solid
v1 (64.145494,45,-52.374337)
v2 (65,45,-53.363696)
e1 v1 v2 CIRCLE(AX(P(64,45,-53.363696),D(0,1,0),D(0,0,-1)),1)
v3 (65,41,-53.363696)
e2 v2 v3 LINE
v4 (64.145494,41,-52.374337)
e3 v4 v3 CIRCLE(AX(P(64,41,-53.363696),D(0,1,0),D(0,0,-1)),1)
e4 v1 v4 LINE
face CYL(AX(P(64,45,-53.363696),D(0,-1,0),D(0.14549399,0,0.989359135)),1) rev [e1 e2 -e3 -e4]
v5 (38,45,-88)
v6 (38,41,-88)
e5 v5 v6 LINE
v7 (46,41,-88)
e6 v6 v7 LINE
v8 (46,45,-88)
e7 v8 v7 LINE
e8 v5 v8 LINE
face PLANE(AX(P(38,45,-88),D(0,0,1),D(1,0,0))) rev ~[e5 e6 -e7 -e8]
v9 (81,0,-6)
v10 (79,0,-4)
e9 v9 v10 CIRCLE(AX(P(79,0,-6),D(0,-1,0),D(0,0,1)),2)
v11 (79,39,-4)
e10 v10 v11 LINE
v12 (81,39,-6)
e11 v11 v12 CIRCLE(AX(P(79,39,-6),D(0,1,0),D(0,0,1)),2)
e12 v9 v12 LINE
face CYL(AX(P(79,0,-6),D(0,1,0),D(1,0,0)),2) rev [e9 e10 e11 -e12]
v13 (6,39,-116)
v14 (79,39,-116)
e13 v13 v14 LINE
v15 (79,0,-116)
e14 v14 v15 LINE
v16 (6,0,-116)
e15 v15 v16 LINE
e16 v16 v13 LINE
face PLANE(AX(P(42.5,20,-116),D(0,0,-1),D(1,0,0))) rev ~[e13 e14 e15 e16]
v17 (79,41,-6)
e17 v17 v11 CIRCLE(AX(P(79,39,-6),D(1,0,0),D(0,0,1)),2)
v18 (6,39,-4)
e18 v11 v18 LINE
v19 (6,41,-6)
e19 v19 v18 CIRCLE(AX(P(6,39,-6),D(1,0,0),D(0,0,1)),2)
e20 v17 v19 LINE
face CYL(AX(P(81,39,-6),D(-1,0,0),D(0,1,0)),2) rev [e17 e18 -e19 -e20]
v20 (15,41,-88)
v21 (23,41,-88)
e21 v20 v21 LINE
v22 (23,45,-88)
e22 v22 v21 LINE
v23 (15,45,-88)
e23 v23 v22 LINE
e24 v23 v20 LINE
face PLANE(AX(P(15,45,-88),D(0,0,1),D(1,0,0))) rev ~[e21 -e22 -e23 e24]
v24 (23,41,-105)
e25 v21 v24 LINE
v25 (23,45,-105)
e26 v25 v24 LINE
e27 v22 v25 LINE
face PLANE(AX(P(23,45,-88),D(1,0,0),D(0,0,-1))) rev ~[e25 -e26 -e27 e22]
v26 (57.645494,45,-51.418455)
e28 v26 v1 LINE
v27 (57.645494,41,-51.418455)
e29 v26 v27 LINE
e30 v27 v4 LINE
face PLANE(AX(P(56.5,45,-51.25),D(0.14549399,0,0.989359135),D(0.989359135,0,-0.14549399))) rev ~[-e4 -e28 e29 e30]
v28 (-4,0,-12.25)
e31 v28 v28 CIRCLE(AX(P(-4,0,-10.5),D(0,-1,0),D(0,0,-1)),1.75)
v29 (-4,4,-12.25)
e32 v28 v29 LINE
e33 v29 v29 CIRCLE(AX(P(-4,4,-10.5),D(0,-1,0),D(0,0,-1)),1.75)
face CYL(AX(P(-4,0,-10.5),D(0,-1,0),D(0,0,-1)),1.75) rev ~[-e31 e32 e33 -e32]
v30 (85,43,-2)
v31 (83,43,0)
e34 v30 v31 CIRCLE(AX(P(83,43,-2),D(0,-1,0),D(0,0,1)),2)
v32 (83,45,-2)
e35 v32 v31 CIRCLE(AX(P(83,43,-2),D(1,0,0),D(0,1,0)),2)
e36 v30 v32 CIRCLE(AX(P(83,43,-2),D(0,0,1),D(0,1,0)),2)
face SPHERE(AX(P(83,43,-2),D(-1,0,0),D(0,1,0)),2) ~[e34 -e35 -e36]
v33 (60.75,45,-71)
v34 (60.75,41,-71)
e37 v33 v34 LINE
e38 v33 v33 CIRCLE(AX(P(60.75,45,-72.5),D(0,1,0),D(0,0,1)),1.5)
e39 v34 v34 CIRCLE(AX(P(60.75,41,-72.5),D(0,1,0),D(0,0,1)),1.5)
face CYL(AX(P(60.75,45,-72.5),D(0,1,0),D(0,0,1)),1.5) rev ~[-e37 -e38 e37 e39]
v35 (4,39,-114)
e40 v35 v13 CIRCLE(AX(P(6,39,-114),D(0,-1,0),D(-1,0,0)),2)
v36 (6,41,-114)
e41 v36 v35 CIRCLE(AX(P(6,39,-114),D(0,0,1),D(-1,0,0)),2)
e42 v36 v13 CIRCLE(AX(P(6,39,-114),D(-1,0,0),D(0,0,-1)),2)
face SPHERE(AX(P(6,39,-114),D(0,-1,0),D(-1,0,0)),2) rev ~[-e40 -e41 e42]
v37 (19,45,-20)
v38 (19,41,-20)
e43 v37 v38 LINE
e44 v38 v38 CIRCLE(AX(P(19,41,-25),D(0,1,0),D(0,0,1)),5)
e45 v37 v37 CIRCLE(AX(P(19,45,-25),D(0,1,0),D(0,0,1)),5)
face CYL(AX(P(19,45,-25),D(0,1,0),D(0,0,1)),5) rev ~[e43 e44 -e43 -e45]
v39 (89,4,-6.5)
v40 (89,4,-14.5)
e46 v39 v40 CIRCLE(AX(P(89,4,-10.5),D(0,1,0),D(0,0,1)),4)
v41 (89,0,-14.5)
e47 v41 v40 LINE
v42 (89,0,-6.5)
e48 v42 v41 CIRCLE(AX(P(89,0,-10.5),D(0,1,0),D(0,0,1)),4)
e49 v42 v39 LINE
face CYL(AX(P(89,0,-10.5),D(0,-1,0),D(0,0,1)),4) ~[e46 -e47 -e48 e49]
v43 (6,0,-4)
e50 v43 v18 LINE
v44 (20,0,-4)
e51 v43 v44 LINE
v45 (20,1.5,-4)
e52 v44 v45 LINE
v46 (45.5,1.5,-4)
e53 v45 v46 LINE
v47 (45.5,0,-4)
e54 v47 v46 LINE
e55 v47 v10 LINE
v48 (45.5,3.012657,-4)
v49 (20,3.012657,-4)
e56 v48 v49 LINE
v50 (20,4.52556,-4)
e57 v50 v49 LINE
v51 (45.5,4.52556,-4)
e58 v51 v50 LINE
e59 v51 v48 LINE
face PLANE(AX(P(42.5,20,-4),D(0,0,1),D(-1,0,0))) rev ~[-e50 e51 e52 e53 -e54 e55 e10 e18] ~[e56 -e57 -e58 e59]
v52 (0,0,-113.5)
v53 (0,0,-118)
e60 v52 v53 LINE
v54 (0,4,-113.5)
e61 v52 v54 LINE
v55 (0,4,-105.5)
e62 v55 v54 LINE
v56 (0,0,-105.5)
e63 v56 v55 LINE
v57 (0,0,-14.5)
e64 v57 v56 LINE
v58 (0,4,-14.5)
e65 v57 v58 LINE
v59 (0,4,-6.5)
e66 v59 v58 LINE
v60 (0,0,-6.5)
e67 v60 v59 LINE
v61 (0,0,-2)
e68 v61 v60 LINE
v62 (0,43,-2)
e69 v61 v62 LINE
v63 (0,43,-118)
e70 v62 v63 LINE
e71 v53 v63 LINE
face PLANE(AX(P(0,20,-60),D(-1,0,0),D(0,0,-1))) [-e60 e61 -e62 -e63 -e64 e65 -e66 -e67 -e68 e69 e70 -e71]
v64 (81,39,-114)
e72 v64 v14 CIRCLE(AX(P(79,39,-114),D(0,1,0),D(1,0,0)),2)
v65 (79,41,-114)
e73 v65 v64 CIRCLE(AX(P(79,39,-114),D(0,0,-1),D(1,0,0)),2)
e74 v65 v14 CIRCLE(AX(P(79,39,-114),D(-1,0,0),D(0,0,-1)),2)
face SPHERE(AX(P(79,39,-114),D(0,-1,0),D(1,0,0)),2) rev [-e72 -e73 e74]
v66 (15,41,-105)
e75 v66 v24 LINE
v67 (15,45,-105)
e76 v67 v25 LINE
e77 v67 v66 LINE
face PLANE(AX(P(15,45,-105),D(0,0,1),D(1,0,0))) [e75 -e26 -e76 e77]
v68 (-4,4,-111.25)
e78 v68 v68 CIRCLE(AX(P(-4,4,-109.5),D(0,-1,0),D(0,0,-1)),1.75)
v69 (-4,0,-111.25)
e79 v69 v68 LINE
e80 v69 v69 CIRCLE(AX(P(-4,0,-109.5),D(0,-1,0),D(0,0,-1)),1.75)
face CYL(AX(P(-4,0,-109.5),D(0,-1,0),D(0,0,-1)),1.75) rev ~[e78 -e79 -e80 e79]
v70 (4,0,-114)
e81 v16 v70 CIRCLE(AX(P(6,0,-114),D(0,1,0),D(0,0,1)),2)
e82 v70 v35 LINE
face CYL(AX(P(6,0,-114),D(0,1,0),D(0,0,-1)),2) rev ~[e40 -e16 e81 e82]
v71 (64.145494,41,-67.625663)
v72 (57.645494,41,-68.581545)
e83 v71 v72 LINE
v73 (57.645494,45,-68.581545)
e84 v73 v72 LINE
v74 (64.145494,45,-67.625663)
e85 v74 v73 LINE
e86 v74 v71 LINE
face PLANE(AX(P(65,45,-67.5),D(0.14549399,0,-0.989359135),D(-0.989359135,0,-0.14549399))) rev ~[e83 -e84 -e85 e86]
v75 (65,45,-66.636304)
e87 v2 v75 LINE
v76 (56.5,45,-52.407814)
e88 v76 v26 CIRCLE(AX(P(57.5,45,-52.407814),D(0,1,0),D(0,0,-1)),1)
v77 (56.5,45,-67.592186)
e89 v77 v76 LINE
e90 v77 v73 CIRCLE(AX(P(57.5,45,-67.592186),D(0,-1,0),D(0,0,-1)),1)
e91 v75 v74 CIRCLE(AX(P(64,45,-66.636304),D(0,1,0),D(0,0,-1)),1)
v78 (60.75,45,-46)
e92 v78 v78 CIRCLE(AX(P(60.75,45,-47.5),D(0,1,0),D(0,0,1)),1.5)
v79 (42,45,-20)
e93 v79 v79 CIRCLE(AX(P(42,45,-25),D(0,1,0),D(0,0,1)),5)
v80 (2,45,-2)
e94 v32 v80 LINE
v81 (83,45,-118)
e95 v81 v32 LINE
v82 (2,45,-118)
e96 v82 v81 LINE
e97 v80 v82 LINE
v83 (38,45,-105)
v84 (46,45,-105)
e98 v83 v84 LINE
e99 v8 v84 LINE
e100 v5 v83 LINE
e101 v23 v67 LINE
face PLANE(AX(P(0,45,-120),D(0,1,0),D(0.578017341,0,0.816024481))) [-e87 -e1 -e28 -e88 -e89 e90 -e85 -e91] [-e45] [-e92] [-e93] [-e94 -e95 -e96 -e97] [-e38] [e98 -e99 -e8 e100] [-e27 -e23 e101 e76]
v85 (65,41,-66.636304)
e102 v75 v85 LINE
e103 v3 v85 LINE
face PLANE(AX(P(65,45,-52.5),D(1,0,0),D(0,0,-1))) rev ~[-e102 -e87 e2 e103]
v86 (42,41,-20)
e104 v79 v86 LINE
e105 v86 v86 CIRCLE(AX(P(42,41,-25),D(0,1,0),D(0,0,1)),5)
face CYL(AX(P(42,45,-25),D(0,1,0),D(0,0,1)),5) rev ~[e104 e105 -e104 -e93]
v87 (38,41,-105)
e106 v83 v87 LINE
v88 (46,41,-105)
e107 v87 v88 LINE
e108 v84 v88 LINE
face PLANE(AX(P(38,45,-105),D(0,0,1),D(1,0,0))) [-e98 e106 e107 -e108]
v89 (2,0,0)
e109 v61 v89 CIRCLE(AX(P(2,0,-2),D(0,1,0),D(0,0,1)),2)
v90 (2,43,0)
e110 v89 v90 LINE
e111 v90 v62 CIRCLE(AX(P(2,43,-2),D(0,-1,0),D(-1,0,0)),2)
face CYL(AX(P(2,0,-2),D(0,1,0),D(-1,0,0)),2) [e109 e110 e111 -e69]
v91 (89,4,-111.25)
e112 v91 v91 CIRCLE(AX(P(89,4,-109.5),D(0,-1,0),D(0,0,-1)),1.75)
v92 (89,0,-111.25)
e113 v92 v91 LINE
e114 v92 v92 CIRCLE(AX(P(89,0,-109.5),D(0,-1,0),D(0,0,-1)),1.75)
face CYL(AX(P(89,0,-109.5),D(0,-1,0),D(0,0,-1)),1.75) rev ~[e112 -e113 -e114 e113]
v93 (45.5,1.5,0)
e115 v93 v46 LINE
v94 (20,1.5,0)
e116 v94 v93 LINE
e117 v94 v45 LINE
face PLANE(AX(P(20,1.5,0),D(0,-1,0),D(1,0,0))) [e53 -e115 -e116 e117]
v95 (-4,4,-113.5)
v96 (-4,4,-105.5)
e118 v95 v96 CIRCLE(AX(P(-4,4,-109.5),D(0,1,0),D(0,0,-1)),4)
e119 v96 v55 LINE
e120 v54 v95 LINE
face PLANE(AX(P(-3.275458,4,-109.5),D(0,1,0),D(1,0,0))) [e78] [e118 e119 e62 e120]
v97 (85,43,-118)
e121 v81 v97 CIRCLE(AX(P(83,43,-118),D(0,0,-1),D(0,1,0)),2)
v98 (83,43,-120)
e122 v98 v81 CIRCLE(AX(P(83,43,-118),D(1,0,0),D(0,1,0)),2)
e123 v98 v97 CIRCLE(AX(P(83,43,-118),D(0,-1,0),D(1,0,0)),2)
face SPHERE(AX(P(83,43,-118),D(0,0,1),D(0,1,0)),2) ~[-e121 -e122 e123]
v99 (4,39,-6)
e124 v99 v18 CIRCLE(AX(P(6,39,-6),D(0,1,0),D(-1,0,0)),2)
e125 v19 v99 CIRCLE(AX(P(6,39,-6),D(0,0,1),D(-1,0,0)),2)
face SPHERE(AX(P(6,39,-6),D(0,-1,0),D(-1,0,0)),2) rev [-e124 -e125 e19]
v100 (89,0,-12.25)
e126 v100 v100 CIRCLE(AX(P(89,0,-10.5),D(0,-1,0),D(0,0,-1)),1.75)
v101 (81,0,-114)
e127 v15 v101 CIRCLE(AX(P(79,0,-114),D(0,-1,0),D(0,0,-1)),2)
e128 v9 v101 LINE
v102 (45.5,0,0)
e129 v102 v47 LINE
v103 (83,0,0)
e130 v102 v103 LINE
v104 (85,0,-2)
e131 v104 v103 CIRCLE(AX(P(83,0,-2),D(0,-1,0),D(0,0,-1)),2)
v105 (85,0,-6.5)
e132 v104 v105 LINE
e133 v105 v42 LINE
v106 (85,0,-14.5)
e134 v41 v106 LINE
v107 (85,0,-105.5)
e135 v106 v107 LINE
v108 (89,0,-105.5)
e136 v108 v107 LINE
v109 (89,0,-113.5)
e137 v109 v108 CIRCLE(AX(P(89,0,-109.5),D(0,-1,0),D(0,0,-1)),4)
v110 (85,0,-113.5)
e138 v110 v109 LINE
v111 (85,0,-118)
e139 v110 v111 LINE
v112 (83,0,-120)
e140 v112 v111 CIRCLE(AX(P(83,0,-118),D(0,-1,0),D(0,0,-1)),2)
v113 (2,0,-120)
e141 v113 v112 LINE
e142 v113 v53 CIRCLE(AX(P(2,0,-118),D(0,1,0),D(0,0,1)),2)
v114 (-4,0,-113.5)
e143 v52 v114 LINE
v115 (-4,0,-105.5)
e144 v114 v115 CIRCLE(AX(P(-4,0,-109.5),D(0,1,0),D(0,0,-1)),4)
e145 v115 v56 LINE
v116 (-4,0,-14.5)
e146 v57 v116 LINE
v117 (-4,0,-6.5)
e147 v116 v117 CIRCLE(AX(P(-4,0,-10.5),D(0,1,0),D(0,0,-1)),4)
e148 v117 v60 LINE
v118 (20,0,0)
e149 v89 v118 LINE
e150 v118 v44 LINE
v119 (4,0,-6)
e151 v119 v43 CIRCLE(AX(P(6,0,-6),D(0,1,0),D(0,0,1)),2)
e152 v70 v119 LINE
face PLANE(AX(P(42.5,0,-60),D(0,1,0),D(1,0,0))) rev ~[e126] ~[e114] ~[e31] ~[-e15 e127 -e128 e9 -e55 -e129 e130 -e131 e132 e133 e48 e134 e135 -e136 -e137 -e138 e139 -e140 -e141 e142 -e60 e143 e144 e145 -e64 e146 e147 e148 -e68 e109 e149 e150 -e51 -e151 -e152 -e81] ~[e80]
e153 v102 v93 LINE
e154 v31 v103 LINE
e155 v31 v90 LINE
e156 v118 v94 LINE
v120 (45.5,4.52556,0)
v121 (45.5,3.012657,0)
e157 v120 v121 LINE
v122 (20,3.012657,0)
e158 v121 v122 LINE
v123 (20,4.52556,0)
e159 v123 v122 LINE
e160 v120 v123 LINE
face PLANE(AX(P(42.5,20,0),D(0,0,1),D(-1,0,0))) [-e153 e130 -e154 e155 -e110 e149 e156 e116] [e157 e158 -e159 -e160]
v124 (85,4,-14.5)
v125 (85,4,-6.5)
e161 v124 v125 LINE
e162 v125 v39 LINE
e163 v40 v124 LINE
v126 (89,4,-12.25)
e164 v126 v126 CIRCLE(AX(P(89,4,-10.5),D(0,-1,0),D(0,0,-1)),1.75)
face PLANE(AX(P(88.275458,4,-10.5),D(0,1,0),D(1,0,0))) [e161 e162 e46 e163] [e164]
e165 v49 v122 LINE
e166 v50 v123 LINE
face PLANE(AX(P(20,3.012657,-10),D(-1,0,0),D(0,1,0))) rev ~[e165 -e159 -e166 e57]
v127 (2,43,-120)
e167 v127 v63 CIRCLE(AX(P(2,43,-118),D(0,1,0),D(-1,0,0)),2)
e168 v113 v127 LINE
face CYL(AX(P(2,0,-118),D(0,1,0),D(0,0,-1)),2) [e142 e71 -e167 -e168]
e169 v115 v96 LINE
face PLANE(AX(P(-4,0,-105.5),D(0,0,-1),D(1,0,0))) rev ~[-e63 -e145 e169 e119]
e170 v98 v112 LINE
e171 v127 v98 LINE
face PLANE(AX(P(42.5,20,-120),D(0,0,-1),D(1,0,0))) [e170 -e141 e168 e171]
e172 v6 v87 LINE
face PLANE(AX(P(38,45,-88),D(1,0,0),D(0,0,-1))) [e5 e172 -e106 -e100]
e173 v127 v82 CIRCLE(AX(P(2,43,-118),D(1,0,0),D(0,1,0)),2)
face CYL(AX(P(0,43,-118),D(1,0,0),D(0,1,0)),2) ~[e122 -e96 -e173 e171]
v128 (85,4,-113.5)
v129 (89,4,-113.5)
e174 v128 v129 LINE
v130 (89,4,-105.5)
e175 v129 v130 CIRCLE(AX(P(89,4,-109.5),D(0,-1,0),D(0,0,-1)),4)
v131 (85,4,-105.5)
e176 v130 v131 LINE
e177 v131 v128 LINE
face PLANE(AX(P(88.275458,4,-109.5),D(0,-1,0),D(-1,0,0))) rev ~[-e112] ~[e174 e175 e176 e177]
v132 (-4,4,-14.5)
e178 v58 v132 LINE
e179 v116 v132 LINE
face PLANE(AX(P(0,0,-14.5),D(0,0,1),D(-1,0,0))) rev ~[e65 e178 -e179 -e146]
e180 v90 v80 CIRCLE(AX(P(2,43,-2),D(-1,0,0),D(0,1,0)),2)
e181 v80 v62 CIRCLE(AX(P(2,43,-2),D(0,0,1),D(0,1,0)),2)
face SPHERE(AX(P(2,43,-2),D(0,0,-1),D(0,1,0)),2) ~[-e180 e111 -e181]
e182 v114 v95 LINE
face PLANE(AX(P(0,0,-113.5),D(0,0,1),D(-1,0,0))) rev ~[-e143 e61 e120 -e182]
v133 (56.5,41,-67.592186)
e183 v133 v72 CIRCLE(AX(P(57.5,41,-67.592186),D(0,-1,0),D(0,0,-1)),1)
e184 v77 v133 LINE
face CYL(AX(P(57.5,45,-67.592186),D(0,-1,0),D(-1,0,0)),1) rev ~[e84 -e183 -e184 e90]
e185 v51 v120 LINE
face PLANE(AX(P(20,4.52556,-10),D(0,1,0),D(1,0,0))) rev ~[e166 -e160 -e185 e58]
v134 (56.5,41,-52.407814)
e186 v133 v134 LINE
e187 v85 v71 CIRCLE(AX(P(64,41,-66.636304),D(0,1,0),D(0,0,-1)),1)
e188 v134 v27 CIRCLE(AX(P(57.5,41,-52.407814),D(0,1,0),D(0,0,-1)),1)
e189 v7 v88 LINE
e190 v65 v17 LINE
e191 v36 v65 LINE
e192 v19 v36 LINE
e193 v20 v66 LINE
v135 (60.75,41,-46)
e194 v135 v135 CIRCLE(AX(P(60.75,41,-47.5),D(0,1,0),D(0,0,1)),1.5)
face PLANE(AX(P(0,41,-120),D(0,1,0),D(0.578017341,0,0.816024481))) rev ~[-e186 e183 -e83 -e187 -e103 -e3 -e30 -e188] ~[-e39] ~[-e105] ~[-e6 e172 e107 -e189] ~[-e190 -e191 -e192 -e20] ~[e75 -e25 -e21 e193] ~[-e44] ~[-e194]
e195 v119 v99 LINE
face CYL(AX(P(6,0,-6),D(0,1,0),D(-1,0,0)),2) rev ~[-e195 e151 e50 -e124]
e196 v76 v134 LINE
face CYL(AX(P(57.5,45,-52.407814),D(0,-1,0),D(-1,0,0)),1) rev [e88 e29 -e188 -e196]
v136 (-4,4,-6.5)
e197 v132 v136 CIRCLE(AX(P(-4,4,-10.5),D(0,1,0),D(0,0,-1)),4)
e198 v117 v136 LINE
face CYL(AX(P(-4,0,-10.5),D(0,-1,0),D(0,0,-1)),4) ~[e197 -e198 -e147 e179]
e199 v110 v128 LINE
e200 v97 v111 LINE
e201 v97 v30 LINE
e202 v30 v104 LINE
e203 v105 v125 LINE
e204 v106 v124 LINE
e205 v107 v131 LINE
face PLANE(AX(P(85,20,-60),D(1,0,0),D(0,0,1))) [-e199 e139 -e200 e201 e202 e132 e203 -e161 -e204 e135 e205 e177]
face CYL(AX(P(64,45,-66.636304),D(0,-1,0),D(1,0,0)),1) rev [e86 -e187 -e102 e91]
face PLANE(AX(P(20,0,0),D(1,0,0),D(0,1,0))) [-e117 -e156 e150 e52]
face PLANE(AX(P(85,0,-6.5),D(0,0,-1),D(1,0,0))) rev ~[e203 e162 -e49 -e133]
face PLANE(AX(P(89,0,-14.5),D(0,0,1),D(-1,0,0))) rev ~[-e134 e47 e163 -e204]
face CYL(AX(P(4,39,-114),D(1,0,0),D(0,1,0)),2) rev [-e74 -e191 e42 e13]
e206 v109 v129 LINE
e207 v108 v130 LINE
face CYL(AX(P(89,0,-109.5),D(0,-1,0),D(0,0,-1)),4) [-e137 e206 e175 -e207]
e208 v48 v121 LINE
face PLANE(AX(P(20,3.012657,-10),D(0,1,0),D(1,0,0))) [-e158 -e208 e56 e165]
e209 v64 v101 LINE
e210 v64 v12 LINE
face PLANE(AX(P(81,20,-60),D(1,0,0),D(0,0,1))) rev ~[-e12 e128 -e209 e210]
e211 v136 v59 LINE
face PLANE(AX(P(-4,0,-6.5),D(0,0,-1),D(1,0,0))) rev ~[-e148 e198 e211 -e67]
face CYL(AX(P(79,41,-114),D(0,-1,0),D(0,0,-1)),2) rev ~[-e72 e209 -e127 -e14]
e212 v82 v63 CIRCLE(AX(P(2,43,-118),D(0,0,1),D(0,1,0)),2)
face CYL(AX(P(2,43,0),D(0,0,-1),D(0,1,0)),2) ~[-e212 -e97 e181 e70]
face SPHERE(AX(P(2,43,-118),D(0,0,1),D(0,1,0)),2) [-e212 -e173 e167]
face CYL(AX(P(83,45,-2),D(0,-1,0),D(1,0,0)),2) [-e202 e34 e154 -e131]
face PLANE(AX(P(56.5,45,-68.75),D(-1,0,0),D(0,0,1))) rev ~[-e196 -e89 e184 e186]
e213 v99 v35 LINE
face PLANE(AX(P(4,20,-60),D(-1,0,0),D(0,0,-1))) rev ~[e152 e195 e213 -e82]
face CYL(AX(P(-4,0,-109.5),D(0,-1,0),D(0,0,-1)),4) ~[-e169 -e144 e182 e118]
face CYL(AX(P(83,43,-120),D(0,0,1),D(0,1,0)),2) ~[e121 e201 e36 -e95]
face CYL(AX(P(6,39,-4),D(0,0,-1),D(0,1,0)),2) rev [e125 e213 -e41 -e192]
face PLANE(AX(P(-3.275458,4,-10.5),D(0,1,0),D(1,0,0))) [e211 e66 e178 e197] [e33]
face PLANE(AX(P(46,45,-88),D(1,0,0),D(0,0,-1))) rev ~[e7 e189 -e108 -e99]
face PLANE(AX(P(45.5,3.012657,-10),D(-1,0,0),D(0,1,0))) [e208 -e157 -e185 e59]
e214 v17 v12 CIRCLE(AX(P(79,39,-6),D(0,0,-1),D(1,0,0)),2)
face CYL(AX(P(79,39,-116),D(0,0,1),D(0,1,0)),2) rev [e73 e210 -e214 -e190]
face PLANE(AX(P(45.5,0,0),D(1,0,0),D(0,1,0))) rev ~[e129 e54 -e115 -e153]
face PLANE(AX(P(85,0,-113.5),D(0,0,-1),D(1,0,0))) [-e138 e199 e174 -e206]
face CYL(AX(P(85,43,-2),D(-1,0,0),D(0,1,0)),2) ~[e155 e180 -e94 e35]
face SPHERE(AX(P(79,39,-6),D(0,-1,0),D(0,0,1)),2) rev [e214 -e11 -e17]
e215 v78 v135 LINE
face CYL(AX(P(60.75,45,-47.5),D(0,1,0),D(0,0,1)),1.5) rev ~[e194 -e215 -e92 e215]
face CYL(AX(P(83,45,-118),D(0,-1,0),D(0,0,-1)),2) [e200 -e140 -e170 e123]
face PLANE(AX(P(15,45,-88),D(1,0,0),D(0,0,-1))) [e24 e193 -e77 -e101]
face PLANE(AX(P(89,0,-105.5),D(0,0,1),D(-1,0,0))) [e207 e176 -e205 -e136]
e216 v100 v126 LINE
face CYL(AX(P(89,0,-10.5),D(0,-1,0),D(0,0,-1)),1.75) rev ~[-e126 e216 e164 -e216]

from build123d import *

# Parameters (mm, degrees)
SKETCH1_W               = 85
SKETCH1_H               = 120
BOSS_EXTRUDE1_DEPTH     = 20
SHELL2_T                = -4
SKETCH4_R               = 5
SKETCH4_W               = 8
SKETCH4_H               = 17
CUT_EXTRUDE1_DEPTH      = 20
SKETCH5_W               = 25.5
SKETCH5_H               = 1.5
CUT_EXTRUDE2_DEPTH      = 20
SKETCH6_R               = 1.75
BOSS_EXTRUDE2_DEPTH     = 4
CUT_EXTRUDE3_DEPTH      = 159.347718645
CUT_EXTRUDE3_DEPTH_BACK = 10
SKETCH7_W               = 25.5
SKETCH7_H               = 1.512902769
CUT_EXTRUDE4_START      = 45
SKETCH8_R               = 1.5
CUT_EXTRUDE4_DEPTH      = 10
FILLET1_R               = 1
FILLET2_R               = 2
FILLET3_R               = 2


with BuildPart() as part:
    # Sketch1 → Boss-Extrude1 (new body)
    with BuildSketch(Plane(origin=(0, 0, 0), x_dir=(1, 0, 0), z_dir=(0, 1, 0))):
        with Locations((42.5, 60)):
            Rectangle(SKETCH1_W, SKETCH1_H)
    extrude(amount=BOSS_EXTRUDE1_DEPTH)

    # Sketch2 → section 0 of loft1
    with BuildSketch(Plane(origin=(0, 45, 0), x_dir=(1, 0, 0), z_dir=(0, 1, 0)), mode=Mode.PRIVATE) as loft1_s0:
        with BuildLine():
            Line((0, 120), (85, 120))
            Line((85, 120), (85, 0))
            Line((85, 0), (0, 0))
            Line((0, 0), (0, 120))
        make_face()
    # loft up to a face of the part (loft1)
    loft([loft1_s0.sketch, part.faces().sort_by_distance((42.5, 20, -60))[0]])

    # Shell2
    shell2_openings = [part.faces().sort_by_distance(p)[0] for p in [
        (42.5, 0, -60),
    ]]
    offset(amount=SHELL2_T, openings=shell2_openings, kind=Kind.INTERSECTION)

    # Sketch4 → Cut-Extrude1 (cut)
    with BuildSketch(Plane(origin=(0, 45, 0), x_dir=(1, 0, 0), z_dir=(0, 1, 0))):
        with Locations(Location((19, 25, 0), (0, 0, 270))):
            Circle(SKETCH4_R)
        with Locations(Location((42, 25, 0), (0, 0, 270))):
            Circle(SKETCH4_R)
        with Locations((19, 96.5)):
            Rectangle(SKETCH4_W, SKETCH4_H)
        with Locations((42, 96.5)):
            Rectangle(SKETCH4_W, SKETCH4_H)
    extrude(amount=-CUT_EXTRUDE1_DEPTH, mode=Mode.SUBTRACT)

    # Sketch5 → Cut-Extrude2 (cut)
    with BuildSketch(Plane.XY):
        with Locations((32.75, 0.75)):
            Rectangle(SKETCH5_W, SKETCH5_H)
    extrude(amount=-CUT_EXTRUDE2_DEPTH, mode=Mode.SUBTRACT)

    # Sketch6 → Boss-Extrude2 (add)
    # profile 1 of 4: a face of its own
    with BuildSketch(Plane(origin=(0, 0, 0), x_dir=(-1, 0, 0), z_dir=(0, -1, 0))):
        with BuildLine():
            Line((-85, 6.5), (-89, 6.5))
            ThreePointArc((-89, 6.5), (-93, 10.5), (-89, 14.5))
            Line((-89, 14.5), (-85, 14.5))
            Line((-85, 14.5), (-85, 6.5))
        make_face()
        with Locations(Location((-89, 10.5, 0), (0, 0, 90))):
            Circle(SKETCH6_R, mode=Mode.SUBTRACT)
    # profile 2 of 4: a face of its own
    with BuildSketch(Plane(origin=(0, 0, 0), x_dir=(-1, 0, 0), z_dir=(0, -1, 0))):
        with BuildLine():
            Line((-85, 113.5), (-89, 113.5))
            ThreePointArc((-89, 113.5), (-93, 109.5), (-89, 105.5))
            Line((-89, 105.5), (-85, 105.5))
            Line((-85, 105.5), (-85, 113.5))
        make_face()
        with Locations(Location((-89, 109.5, 0), (0, 0, 90))):
            Circle(SKETCH6_R, mode=Mode.SUBTRACT)
    # profile 3 of 4: a face of its own
    with BuildSketch(Plane(origin=(0, 0, 0), x_dir=(-1, 0, 0), z_dir=(0, -1, 0))):
        with BuildLine():
            Line((0, 113.5), (4, 113.5))
            ThreePointArc((4, 113.5), (8, 109.5), (4, 105.5))
            Line((4, 105.5), (0, 105.5))
            Line((0, 105.5), (0, 113.5))
        make_face()
        with Locations(Location((4, 109.5, 0), (0, 0, 90))):
            Circle(SKETCH6_R, mode=Mode.SUBTRACT)
    # profile 4 of 4: a face of its own
    with BuildSketch(Plane(origin=(0, 0, 0), x_dir=(-1, 0, 0), z_dir=(0, -1, 0))):
        with BuildLine():
            Line((0, 14.5), (4, 14.5))
            ThreePointArc((4, 14.5), (8, 10.5), (4, 6.5))
            Line((4, 6.5), (0, 6.5))
            Line((0, 6.5), (0, 14.5))
        make_face()
        with Locations(Location((4, 10.5, 0), (0, 0, 90))):
            Circle(SKETCH6_R, mode=Mode.SUBTRACT)
    extrude(amount=-BOSS_EXTRUDE2_DEPTH)

    # Sketch7 → Cut-Extrude3 (cut, two sides: drawn at the far end of the back side and taken through both)
    with BuildSketch(Plane.XY.offset(-CUT_EXTRUDE3_DEPTH_BACK)):
        with Locations((32.75, 3.769108467)):
            Rectangle(SKETCH7_W, SKETCH7_H)
    extrude(amount=CUT_EXTRUDE3_DEPTH + CUT_EXTRUDE3_DEPTH_BACK, mode=Mode.SUBTRACT)

    # Sketch8 → Cut-Extrude4 (cut)
    with BuildSketch(Plane(origin=(0, 0, 0), x_dir=(1, 0, 0), z_dir=(0, 1, 0)).offset(CUT_EXTRUDE4_START)):
        with Locations(Location((60.75, 72.5, 0), (0, 0, 270))):
            Circle(SKETCH8_R)
        with Locations(Location((60.75, 47.5, 0), (0, 0, 270))):
            Circle(SKETCH8_R)
        Polygon((56.5, 68.75), (56.5, 51.25), (65, 52.5), (65, 67.5), align=None)
    extrude(amount=-CUT_EXTRUDE4_DEPTH, mode=Mode.SUBTRACT)

    # Fillet1
    fillet1_edges = [part.edges().sort_by_distance(p)[0] for p in [
        (56.5, 43, -51.25),
        (56.5, 43, -68.75),
        (65, 43, -67.5),
        (65, 43, -52.5),
    ]]
    fillet(fillet1_edges, radius=FILLET1_R)

    # Fillet2
    fillet2_edges = [part.edges().sort_by_distance(p)[0] for p in [
        (4, 20.5, -116),
        (4, 20.5, -4),
        (81, 20.5, -4),
        (81, 20.5, -116),
        (4, 41, -60),
        (42.5, 41, -4),
        (81, 41, -60),
        (42.5, 41, -116),
    ]]
    fillet(fillet2_edges, radius=FILLET2_R)

    # Fillet3
    fillet3_edges = [part.edges().sort_by_distance(p)[0] for p in [
        (0, 45, -60),
        (42.5, 45, 0),
        (85, 45, -60),
        (42.5, 45, -120),
        (0, 22.5, -120),
        (85, 22.5, -120),
        (85, 22.5, 0),
        (0, 22.5, 0),
    ]]
    fillet(fillet3_edges, radius=FILLET3_R)


solid = part.part
